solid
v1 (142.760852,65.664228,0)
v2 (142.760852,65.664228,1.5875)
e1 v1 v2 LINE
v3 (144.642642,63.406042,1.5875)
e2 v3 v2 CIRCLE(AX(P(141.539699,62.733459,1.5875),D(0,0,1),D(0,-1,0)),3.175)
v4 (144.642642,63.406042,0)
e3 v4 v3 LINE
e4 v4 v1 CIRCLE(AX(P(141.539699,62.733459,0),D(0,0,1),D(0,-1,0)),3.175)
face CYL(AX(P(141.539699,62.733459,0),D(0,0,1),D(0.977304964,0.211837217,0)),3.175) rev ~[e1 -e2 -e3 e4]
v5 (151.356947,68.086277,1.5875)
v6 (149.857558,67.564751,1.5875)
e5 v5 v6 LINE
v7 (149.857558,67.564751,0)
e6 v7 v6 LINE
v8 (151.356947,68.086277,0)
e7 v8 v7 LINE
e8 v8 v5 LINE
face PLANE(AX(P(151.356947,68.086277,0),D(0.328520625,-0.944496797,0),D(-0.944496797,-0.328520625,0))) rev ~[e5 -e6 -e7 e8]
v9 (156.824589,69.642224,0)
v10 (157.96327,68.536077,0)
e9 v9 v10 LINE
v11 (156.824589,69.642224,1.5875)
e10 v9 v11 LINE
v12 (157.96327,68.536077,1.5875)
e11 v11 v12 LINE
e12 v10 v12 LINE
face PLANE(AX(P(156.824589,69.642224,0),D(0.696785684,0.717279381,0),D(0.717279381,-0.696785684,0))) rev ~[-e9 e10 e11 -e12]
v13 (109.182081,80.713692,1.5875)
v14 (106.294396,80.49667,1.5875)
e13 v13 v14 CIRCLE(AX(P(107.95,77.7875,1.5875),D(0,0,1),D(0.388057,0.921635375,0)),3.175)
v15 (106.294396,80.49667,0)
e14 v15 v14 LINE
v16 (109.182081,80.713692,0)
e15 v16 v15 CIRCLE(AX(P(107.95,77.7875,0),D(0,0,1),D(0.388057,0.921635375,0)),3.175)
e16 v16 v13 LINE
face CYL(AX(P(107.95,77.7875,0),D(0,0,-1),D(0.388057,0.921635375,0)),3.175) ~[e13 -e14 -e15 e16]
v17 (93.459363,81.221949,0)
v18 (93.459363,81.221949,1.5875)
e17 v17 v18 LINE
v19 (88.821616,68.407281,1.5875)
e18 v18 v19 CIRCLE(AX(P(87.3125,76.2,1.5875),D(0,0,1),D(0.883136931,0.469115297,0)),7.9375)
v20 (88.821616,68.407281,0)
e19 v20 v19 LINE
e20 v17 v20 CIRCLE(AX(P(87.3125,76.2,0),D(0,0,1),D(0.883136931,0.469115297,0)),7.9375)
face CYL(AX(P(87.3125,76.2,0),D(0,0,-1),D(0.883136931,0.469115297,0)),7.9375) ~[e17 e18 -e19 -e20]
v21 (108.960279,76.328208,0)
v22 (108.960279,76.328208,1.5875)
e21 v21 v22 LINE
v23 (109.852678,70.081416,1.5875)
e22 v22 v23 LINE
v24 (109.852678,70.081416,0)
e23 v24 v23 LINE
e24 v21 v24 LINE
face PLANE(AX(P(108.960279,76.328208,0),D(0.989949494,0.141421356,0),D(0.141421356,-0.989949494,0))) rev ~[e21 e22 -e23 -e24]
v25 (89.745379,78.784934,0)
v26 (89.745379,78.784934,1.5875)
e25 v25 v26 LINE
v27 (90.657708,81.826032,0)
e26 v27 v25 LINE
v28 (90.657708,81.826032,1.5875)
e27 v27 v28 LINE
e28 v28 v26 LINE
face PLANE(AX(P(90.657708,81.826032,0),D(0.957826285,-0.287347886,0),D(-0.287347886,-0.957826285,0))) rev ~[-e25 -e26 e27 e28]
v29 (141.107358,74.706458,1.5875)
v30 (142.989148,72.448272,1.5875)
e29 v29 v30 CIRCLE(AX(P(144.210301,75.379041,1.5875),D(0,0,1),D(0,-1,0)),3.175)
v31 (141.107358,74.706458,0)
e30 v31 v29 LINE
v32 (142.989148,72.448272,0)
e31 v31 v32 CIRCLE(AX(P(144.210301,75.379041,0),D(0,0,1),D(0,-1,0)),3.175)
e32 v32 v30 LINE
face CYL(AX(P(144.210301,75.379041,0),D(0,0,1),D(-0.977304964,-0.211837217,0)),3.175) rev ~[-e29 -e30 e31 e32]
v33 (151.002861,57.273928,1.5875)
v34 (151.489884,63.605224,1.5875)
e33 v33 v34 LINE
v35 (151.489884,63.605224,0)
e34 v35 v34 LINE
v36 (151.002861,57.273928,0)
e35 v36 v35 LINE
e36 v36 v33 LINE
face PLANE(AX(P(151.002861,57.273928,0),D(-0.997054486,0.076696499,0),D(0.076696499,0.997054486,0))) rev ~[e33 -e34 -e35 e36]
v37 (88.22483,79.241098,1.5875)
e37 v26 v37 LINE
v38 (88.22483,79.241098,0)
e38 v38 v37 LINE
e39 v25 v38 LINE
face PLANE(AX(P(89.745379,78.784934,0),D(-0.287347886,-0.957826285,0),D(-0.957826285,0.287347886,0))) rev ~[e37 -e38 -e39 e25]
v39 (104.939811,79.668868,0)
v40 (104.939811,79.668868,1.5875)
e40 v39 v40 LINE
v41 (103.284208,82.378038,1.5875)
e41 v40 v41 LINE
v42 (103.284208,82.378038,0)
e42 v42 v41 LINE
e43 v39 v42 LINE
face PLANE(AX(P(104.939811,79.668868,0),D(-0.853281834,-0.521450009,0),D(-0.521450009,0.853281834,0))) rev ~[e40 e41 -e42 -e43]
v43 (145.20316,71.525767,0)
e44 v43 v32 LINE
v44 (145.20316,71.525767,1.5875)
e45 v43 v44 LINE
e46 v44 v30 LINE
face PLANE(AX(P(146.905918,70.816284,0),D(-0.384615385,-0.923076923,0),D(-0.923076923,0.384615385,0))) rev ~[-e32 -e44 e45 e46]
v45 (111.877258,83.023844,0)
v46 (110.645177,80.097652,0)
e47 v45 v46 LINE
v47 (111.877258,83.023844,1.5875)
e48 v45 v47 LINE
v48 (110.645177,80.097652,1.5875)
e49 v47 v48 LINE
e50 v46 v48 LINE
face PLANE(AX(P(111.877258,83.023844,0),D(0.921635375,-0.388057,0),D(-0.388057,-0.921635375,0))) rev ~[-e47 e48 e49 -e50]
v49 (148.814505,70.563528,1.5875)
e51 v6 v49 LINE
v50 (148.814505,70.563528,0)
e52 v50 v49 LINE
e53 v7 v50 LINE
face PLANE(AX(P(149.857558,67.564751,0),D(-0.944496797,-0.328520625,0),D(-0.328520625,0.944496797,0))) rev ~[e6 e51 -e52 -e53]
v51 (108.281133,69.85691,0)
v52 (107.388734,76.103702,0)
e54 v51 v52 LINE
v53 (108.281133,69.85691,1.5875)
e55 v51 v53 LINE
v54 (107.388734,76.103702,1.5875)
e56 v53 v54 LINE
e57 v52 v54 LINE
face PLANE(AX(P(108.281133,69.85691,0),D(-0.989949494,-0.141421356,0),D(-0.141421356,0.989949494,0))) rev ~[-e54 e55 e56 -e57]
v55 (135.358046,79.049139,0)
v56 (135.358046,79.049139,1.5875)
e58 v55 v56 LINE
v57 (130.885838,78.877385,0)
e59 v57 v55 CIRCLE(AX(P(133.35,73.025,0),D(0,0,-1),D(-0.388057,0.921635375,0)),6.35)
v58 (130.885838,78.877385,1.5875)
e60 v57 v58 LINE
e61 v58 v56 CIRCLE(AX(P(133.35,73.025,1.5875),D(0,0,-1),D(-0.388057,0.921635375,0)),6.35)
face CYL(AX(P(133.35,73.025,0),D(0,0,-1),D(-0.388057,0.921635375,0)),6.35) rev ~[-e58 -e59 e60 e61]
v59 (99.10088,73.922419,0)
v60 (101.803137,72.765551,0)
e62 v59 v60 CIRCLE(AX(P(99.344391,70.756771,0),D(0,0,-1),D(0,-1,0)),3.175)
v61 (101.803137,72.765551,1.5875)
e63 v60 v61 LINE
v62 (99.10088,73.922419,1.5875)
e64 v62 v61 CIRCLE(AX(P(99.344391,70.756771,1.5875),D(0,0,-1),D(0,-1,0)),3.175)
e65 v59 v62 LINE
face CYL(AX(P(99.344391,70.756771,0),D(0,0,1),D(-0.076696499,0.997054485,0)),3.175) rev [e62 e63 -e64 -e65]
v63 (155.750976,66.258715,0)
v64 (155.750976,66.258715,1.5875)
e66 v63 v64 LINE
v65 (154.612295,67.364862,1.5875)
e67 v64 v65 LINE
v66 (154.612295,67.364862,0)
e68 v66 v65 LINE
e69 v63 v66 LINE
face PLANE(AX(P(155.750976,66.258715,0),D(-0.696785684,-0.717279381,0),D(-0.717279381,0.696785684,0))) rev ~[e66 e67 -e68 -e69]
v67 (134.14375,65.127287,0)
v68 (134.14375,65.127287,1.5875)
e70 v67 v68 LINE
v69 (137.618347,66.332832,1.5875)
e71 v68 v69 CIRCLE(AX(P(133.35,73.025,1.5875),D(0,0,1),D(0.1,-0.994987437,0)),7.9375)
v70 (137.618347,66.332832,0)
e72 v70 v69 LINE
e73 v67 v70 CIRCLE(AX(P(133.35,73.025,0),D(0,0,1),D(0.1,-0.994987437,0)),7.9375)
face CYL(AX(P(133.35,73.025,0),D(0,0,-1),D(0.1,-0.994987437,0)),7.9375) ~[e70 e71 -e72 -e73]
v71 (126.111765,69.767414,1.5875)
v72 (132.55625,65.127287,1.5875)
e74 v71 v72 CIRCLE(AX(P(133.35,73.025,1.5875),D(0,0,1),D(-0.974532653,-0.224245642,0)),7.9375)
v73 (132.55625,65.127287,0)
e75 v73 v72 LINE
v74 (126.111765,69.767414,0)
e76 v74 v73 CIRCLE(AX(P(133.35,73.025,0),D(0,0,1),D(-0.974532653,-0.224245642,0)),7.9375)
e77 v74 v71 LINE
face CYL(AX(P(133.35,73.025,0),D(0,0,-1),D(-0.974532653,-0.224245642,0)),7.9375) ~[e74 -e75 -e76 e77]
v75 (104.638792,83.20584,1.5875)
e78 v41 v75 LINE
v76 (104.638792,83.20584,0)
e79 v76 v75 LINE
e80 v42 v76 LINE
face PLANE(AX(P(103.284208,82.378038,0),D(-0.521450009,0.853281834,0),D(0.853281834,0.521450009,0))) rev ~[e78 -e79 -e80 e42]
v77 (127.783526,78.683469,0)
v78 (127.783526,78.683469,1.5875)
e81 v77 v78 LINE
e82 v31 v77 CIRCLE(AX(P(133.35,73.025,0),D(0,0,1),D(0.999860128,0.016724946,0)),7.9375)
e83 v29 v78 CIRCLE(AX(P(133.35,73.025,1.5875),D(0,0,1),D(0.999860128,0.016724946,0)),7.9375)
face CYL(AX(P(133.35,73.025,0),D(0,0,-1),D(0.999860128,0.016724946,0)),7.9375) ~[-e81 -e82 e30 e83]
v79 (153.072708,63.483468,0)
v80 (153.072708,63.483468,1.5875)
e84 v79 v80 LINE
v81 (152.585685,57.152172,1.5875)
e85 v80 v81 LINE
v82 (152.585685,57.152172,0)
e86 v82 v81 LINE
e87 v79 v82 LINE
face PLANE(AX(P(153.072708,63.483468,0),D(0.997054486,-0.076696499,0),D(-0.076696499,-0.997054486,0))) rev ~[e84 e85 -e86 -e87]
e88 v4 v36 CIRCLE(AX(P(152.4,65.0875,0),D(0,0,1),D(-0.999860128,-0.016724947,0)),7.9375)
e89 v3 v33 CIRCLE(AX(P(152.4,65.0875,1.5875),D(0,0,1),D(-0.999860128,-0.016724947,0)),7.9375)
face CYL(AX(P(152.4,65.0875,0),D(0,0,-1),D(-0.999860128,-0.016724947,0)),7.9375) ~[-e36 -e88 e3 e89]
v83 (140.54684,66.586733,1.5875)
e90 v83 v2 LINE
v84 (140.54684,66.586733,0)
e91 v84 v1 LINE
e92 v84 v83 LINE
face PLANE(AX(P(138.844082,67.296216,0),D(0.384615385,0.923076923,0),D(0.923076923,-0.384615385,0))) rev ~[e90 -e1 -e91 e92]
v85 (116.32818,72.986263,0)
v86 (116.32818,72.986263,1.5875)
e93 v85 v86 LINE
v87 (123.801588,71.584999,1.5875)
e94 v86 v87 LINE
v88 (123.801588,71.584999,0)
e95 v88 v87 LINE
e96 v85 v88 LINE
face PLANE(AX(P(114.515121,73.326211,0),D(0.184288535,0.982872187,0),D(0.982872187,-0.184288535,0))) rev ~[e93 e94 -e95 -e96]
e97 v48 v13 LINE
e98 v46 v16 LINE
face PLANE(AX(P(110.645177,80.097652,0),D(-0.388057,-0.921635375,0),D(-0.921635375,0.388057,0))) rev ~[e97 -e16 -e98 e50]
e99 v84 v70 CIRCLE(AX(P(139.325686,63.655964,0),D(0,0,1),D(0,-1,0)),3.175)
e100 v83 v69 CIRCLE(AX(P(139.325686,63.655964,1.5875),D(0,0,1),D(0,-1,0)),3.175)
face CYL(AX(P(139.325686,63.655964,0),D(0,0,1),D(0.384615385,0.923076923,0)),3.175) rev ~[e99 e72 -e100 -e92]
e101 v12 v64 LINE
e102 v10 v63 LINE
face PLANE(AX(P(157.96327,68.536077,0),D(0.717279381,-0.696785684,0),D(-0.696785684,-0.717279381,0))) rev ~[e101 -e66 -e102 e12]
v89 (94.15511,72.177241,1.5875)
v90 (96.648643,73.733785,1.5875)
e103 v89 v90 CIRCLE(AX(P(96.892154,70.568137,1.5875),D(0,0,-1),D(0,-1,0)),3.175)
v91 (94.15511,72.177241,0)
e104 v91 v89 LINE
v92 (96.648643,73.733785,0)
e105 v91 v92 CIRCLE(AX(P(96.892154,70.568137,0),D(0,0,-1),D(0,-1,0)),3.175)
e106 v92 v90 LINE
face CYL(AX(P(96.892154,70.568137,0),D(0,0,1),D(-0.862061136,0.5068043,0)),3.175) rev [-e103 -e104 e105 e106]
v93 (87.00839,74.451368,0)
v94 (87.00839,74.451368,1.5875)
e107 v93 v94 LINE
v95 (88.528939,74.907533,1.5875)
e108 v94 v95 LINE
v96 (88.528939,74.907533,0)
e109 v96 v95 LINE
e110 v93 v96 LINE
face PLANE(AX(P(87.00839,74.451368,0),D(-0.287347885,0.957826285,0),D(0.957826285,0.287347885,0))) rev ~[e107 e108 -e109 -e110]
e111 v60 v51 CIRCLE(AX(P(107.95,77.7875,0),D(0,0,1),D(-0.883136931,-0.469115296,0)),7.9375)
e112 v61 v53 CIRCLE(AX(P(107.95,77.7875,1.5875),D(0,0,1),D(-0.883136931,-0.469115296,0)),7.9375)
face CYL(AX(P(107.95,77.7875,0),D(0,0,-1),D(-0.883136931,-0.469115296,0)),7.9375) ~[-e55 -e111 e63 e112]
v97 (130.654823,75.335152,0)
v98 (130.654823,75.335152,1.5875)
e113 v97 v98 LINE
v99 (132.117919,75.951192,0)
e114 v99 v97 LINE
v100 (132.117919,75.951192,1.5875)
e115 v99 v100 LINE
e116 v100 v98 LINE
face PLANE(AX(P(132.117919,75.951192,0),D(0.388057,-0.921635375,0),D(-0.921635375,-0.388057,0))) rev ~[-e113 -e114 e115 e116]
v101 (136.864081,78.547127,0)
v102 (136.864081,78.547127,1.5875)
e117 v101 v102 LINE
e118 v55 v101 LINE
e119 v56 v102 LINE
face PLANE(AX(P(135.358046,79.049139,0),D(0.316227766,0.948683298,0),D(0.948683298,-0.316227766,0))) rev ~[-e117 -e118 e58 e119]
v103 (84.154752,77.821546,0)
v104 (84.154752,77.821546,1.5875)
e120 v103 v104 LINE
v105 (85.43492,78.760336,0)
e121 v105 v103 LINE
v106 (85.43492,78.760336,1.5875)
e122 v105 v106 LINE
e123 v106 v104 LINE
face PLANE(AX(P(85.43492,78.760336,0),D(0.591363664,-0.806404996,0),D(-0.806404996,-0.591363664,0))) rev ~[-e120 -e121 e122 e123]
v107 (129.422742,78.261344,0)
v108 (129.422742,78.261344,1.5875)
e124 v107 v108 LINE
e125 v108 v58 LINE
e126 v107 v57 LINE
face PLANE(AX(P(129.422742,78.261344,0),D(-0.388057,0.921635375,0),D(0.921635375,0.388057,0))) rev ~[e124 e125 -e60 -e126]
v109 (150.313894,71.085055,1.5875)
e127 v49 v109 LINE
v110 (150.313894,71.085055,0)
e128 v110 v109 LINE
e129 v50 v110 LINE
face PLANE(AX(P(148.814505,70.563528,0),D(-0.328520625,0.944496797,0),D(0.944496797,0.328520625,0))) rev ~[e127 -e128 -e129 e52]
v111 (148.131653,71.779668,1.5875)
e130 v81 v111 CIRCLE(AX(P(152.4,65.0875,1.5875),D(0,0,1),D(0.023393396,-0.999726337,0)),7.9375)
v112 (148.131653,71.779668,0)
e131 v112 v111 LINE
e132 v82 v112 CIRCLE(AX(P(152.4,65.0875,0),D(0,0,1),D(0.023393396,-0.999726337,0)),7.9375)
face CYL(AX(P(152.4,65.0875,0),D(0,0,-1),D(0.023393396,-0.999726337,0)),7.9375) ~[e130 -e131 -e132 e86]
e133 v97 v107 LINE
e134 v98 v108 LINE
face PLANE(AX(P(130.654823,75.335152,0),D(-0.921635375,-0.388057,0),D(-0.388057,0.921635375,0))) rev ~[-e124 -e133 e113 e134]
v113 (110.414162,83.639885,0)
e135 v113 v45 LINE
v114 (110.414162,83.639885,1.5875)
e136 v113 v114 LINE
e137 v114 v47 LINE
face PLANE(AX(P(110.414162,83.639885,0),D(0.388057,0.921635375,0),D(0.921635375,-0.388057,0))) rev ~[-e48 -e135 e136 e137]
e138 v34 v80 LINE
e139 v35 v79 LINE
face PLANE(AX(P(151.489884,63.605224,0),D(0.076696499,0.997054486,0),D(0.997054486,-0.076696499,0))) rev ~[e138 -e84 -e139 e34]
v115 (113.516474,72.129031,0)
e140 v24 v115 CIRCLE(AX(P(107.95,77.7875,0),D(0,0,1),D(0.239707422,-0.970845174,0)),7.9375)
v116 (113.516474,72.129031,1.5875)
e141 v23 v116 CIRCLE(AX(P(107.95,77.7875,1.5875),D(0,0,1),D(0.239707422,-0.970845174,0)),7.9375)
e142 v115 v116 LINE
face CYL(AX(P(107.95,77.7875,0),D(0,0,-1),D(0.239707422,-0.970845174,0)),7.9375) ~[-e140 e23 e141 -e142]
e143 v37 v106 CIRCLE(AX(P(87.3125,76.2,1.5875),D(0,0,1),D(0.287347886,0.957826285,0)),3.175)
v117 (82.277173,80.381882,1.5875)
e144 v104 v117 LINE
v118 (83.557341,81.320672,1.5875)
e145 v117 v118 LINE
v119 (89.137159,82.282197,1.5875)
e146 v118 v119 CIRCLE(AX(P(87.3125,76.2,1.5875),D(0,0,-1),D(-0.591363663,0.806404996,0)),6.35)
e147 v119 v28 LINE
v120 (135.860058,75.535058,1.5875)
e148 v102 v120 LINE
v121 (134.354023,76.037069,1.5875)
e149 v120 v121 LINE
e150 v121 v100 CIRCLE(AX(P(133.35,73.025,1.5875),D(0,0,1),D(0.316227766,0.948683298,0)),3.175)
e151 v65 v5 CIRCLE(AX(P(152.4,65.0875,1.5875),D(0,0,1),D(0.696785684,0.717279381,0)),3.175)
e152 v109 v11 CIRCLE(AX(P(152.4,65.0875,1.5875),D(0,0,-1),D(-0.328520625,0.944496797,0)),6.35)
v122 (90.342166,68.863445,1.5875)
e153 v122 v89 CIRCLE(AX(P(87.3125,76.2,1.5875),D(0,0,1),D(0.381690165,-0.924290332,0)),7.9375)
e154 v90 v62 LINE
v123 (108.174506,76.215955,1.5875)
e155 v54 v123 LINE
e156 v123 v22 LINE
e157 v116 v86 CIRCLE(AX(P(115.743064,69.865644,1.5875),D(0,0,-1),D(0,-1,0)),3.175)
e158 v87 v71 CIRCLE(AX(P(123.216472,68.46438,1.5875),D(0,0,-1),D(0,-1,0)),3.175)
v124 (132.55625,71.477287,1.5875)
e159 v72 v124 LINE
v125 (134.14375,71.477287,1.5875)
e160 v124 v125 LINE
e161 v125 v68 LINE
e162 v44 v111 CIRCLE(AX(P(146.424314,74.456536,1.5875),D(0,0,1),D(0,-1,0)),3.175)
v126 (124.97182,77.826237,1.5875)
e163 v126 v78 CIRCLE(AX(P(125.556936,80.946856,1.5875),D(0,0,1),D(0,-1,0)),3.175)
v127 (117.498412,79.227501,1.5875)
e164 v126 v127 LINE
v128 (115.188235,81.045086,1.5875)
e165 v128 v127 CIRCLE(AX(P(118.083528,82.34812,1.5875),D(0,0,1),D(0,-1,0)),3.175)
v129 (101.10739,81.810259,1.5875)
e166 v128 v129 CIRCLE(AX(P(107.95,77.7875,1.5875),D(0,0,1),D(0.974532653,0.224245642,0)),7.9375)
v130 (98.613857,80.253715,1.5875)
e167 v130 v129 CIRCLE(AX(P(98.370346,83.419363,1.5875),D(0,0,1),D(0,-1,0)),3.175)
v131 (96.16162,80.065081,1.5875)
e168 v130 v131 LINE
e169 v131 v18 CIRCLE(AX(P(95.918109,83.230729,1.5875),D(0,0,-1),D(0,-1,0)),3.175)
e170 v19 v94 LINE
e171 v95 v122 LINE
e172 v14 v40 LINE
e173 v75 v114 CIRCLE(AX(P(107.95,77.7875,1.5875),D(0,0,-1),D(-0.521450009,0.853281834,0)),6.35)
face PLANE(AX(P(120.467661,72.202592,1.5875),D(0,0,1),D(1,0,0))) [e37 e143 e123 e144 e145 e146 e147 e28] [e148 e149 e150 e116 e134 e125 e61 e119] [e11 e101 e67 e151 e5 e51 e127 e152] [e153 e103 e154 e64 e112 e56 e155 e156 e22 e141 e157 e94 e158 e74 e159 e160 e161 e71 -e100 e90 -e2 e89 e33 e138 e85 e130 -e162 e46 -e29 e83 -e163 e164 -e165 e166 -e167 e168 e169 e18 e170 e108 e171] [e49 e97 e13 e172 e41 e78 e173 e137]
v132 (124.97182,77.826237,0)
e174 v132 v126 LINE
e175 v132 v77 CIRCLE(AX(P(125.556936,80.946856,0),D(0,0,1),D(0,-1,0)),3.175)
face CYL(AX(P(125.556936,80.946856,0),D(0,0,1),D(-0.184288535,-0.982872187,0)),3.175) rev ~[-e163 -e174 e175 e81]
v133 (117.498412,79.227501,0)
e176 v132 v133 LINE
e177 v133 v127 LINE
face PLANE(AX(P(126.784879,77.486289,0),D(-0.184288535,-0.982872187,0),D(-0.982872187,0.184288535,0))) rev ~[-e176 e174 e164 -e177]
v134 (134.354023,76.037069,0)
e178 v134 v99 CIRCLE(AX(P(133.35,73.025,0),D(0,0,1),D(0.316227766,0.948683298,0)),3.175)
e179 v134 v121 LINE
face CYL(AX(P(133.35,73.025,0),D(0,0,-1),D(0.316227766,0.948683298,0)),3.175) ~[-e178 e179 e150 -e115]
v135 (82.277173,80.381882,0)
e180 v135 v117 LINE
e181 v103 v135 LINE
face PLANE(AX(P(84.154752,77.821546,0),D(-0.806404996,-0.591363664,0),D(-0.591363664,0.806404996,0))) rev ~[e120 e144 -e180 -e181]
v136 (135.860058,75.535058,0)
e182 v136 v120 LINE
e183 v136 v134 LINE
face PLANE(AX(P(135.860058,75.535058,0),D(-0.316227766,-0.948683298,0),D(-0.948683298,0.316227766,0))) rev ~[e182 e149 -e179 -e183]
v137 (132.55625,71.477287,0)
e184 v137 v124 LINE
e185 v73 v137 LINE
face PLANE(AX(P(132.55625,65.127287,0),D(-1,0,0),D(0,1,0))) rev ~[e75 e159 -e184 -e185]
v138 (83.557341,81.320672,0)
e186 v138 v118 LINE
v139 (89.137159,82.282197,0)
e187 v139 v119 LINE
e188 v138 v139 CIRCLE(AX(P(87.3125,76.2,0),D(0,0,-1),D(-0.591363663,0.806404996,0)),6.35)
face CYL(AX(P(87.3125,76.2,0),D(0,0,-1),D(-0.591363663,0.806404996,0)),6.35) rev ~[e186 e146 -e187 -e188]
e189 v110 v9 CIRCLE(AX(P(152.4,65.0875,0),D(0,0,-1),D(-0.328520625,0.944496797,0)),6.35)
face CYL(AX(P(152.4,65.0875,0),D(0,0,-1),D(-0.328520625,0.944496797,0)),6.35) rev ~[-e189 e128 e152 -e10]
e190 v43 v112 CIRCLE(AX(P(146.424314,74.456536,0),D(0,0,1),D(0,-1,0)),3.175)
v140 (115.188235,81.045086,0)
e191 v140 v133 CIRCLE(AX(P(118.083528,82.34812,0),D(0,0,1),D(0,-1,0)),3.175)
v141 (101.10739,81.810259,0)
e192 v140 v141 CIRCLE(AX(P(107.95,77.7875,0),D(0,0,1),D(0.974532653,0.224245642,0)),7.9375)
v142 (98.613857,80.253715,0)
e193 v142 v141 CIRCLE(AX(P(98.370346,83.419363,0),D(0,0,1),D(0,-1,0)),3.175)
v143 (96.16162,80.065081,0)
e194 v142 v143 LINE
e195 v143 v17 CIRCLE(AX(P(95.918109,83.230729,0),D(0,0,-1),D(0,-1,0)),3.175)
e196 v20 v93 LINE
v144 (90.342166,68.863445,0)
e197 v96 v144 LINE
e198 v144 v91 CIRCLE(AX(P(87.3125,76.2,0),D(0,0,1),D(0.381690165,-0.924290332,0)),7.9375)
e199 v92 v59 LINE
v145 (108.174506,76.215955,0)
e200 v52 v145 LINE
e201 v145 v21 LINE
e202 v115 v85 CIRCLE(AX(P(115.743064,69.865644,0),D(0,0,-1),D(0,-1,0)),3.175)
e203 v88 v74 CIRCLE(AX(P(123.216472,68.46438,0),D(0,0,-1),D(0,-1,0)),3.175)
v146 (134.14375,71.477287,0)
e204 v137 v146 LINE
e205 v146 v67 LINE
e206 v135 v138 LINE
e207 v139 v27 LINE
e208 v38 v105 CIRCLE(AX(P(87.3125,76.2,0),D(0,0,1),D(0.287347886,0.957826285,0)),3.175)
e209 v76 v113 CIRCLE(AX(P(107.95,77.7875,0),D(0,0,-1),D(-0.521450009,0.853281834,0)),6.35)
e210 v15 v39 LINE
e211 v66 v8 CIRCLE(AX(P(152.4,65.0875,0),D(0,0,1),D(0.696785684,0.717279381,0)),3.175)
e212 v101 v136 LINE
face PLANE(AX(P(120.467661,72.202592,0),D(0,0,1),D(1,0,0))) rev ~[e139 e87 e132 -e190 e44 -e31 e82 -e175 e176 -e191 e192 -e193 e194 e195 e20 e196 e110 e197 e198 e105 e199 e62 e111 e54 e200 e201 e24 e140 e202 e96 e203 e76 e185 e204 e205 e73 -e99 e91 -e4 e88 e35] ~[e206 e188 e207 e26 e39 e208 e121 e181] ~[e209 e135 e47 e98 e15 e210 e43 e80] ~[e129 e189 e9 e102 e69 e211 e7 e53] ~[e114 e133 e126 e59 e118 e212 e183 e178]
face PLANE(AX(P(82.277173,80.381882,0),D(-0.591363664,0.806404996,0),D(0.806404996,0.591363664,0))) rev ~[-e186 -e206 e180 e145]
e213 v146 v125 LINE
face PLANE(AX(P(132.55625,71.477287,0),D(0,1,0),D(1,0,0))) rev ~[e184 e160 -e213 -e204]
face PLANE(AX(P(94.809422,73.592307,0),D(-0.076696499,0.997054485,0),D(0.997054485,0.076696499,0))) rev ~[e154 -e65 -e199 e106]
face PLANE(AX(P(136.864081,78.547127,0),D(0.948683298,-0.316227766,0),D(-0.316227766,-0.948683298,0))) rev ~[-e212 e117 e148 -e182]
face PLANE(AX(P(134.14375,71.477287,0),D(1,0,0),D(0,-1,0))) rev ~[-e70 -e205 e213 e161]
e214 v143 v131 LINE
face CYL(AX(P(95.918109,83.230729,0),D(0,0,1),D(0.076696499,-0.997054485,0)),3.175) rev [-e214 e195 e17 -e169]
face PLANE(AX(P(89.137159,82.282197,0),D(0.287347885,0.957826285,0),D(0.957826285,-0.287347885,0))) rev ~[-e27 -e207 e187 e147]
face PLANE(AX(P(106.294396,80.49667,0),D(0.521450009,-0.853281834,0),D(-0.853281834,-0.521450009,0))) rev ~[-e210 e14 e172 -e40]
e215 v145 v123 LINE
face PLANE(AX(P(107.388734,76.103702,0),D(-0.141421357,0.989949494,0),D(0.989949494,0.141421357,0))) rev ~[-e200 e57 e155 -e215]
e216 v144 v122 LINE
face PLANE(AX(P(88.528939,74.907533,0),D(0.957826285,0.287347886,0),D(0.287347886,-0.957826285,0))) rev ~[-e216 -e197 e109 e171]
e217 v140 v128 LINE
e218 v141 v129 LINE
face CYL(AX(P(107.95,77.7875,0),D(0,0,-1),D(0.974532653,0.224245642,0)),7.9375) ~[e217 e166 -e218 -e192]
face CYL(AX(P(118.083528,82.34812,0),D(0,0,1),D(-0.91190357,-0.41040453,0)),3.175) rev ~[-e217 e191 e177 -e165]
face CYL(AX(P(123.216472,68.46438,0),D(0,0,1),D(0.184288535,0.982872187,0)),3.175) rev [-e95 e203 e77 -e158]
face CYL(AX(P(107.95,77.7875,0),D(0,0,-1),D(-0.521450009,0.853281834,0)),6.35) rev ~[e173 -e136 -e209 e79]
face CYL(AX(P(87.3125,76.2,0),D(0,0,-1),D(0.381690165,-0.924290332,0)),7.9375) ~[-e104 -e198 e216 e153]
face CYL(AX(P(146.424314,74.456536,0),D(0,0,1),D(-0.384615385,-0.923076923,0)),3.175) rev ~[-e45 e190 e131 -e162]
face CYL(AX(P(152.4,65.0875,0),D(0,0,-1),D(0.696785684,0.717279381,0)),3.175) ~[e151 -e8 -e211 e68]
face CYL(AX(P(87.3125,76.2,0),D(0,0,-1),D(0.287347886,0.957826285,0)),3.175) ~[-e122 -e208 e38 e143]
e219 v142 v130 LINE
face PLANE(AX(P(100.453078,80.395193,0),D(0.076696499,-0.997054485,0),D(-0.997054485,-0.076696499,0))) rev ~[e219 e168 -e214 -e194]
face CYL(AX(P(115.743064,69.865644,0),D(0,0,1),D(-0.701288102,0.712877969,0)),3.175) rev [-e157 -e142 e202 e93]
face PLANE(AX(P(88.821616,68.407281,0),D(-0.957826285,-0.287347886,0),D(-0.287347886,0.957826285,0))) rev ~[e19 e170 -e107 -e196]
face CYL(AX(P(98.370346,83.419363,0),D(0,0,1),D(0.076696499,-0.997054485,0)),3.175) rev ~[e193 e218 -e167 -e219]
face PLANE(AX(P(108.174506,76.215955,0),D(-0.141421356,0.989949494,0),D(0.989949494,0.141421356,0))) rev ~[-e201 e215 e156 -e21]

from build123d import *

# Parameters (mm, degrees)
BOSS_EXTRUDE1_DEPTH = 1.5875
FILLET1_R           = 3.175


with BuildPart() as part:
    # Sketch4 → Boss-Extrude1 (new body)
    with BuildSketch(Plane.XY):
        with BuildLine():
            Line((100.453077844, 80.395193317), (94.322399388, 79.923602666))
            ThreePointArc((94.322399388, 79.923602666), (80.150110348, 79.621122729), (88.821616455, 68.40728072))
            Line((88.821616455, 68.40728072), (87.008390154, 74.451368388))
            Line((87.008390154, 74.451368388), (87.768664768, 74.679450772))
            Line((87.768664768, 74.679450772), (88.528939382, 74.907533156))
            Line((88.528939382, 74.907533156), (90.342165683, 68.863445488))
            ThreePointArc((90.342165683, 68.863445488), (93.082490895, 70.749210028), (94.809422156, 73.592306683))
            Line((94.809422156, 73.592306683), (100.940100612, 74.063897334))
            ThreePointArc((100.940100612, 74.063897334), (104.003334801, 70.900719906), (108.281132842, 69.856910029))
            Line((108.281132842, 69.856910029), (107.388733992, 76.103701977))
            Line((107.388733992, 76.103701977), (108.174506403, 76.215955179))
            Line((108.174506403, 76.215955179), (108.960278814, 76.32820838))
            Line((108.960278814, 76.32820838), (109.852677663, 70.081416432))
            ThreePointArc((109.852677663, 70.081416432), (112.484101458, 71.272453552), (114.515120736, 73.3262114))
            Line((114.515120736, 73.3262114), (125.614647067, 71.245050213))
            ThreePointArc((125.614647067, 71.245050213), (128.101842683, 67.070106968), (132.55625, 65.127287218))
            Line((132.55625, 65.127287218), (132.55625, 71.477287218))
            Line((132.55625, 71.477287218), (133.35, 71.477287218))
            Line((133.35, 71.477287218), (134.14375, 71.477287218))
            Line((134.14375, 71.477287218), (134.14375, 65.127287218))
            ThreePointArc((134.14375, 65.127287218), (136.675698551, 65.817806691), (138.844082076, 67.296215802))
            Line((138.844082076, 67.296215802), (144.463610232, 64.954745737))
            ThreePointArc((144.463610232, 64.954745737), (146.356207306, 59.941970278), (151.002861083, 57.273927891))
            Line((151.002861083, 57.273927891), (151.48988385, 63.605223874))
            Line((151.48988385, 63.605223874), (152.281295848, 63.544346028))
            Line((152.281295848, 63.544346028), (153.072707846, 63.483468182))
            Line((153.072707846, 63.483468182), (152.585685078, 57.152172199))
            ThreePointArc((152.585685078, 57.152172199), (159.729512866, 68.134161681), (146.905917924, 70.816284198))
            Line((146.905917924, 70.816284198), (141.286389768, 73.157754263))
            ThreePointArc((141.286389768, 73.157754263), (135.620274668, 80.630902917), (126.784879264, 77.4862886))
            Line((126.784879264, 77.4862886), (115.685352934, 79.567449787))
            ThreePointArc((115.685352934, 79.567449787), (108.380699601, 85.713306212), (100.453077844, 80.395193317))
        make_face()
        with BuildLine():
            ThreePointArc((134.354023157, 76.037069471), (133.228154551, 76.197661136), (132.117919025, 75.951192316))
            Line((132.117919025, 75.951192316), (130.654822867, 75.335151828))
            Line((130.654822867, 75.335151828), (129.422741892, 78.261344145))
            Line((129.422741892, 78.261344145), (130.88583805, 78.877384632))
            ThreePointArc((130.88583805, 78.877384632), (133.106309101, 79.370322273), (135.358046314, 79.049138943))
            Line((135.358046314, 79.049138943), (136.86408105, 78.547127364))
            Line((136.86408105, 78.547127364), (135.860057893, 75.535057893))
            Line((135.860057893, 75.535057893), (134.354023157, 76.037069471))
        make_face(mode=Mode.SUBTRACT)
        with BuildLine():
            ThreePointArc((83.557340736, 81.320671724), (86.234149214, 82.457767939), (89.137159073, 82.282196911))
            Line((89.137159073, 82.282196911), (90.657708301, 81.826032143))
            Line((90.657708301, 81.826032143), (89.745378764, 78.784933687))
            Line((89.745378764, 78.784933687), (88.224829537, 79.241098456))
            ThreePointArc((88.224829537, 79.241098456), (86.773324607, 79.32888397), (85.434920368, 78.760335862))
            Line((85.434920368, 78.760335862), (84.154752437, 77.821546046))
            Line((84.154752437, 77.821546046), (82.277172805, 80.381881908))
            Line((82.277172805, 80.381881908), (83.557340736, 81.320671724))
        make_face(mode=Mode.SUBTRACT)
        with BuildLine():
            ThreePointArc((109.182080975, 80.713692316), (107.712055506, 80.953571291), (106.29439622, 80.496669822))
            Line((106.29439622, 80.496669822), (104.939811309, 79.668867932))
            Line((104.939811309, 79.668867932), (103.284207529, 82.378037754))
            Line((103.284207529, 82.378037754), (104.63879244, 83.205839644))
            ThreePointArc((104.63879244, 83.205839644), (107.474111012, 84.119642581), (110.41416195, 83.639884632))
            Line((110.41416195, 83.639884632), (111.877258108, 83.023844145))
            Line((111.877258108, 83.023844145), (110.645177133, 80.097651828))
            Line((110.645177133, 80.097651828), (109.182080975, 80.713692316))
        make_face(mode=Mode.SUBTRACT)
        with BuildLine():
            ThreePointArc((154.612294548, 67.364862034), (153.086943568, 68.187295725), (151.356947016, 68.08627733))
            Line((151.356947016, 68.08627733), (149.857558351, 67.564750837))
            Line((149.857558351, 67.564750837), (148.814505367, 70.563528167))
            Line((148.814505367, 70.563528167), (150.313894032, 71.085054659))
            ThreePointArc((150.313894032, 71.085054659), (153.773887136, 71.287091449), (156.824589095, 69.642224068))
            Line((156.824589095, 69.642224068), (157.963270112, 68.536076795))
            Line((157.963270112, 68.536076795), (155.750975565, 66.25871476))
            Line((155.750975565, 66.25871476), (154.612294548, 67.364862034))
        make_face(mode=Mode.SUBTRACT)
    extrude(amount=BOSS_EXTRUDE1_DEPTH)

    # Fillet1
    fillet1_edges = [part.edges().sort_by_distance(p)[0] for p in [
        (94.322399388, 79.923602666, 0.79375),
        (100.453077844, 80.395193317, 0.79375),
        (115.685352934, 79.567449787, 0.79375),
        (126.784879264, 77.4862886, 0.79375),
        (141.286389768, 73.157754263, 0.79375),
        (146.905917924, 70.816284198, 0.79375),
        (144.463610232, 64.954745737, 0.79375),
        (138.844082076, 67.296215802, 0.79375),
        (125.614647067, 71.245050213, 0.79375),
        (114.515120736, 73.3262114, 0.79375),
        (100.940100612, 74.063897334, 0.79375),
        (94.809422156, 73.592306683, 0.79375),
    ]]
    fillet(fillet1_edges, radius=FILLET1_R)


solid = part.part
